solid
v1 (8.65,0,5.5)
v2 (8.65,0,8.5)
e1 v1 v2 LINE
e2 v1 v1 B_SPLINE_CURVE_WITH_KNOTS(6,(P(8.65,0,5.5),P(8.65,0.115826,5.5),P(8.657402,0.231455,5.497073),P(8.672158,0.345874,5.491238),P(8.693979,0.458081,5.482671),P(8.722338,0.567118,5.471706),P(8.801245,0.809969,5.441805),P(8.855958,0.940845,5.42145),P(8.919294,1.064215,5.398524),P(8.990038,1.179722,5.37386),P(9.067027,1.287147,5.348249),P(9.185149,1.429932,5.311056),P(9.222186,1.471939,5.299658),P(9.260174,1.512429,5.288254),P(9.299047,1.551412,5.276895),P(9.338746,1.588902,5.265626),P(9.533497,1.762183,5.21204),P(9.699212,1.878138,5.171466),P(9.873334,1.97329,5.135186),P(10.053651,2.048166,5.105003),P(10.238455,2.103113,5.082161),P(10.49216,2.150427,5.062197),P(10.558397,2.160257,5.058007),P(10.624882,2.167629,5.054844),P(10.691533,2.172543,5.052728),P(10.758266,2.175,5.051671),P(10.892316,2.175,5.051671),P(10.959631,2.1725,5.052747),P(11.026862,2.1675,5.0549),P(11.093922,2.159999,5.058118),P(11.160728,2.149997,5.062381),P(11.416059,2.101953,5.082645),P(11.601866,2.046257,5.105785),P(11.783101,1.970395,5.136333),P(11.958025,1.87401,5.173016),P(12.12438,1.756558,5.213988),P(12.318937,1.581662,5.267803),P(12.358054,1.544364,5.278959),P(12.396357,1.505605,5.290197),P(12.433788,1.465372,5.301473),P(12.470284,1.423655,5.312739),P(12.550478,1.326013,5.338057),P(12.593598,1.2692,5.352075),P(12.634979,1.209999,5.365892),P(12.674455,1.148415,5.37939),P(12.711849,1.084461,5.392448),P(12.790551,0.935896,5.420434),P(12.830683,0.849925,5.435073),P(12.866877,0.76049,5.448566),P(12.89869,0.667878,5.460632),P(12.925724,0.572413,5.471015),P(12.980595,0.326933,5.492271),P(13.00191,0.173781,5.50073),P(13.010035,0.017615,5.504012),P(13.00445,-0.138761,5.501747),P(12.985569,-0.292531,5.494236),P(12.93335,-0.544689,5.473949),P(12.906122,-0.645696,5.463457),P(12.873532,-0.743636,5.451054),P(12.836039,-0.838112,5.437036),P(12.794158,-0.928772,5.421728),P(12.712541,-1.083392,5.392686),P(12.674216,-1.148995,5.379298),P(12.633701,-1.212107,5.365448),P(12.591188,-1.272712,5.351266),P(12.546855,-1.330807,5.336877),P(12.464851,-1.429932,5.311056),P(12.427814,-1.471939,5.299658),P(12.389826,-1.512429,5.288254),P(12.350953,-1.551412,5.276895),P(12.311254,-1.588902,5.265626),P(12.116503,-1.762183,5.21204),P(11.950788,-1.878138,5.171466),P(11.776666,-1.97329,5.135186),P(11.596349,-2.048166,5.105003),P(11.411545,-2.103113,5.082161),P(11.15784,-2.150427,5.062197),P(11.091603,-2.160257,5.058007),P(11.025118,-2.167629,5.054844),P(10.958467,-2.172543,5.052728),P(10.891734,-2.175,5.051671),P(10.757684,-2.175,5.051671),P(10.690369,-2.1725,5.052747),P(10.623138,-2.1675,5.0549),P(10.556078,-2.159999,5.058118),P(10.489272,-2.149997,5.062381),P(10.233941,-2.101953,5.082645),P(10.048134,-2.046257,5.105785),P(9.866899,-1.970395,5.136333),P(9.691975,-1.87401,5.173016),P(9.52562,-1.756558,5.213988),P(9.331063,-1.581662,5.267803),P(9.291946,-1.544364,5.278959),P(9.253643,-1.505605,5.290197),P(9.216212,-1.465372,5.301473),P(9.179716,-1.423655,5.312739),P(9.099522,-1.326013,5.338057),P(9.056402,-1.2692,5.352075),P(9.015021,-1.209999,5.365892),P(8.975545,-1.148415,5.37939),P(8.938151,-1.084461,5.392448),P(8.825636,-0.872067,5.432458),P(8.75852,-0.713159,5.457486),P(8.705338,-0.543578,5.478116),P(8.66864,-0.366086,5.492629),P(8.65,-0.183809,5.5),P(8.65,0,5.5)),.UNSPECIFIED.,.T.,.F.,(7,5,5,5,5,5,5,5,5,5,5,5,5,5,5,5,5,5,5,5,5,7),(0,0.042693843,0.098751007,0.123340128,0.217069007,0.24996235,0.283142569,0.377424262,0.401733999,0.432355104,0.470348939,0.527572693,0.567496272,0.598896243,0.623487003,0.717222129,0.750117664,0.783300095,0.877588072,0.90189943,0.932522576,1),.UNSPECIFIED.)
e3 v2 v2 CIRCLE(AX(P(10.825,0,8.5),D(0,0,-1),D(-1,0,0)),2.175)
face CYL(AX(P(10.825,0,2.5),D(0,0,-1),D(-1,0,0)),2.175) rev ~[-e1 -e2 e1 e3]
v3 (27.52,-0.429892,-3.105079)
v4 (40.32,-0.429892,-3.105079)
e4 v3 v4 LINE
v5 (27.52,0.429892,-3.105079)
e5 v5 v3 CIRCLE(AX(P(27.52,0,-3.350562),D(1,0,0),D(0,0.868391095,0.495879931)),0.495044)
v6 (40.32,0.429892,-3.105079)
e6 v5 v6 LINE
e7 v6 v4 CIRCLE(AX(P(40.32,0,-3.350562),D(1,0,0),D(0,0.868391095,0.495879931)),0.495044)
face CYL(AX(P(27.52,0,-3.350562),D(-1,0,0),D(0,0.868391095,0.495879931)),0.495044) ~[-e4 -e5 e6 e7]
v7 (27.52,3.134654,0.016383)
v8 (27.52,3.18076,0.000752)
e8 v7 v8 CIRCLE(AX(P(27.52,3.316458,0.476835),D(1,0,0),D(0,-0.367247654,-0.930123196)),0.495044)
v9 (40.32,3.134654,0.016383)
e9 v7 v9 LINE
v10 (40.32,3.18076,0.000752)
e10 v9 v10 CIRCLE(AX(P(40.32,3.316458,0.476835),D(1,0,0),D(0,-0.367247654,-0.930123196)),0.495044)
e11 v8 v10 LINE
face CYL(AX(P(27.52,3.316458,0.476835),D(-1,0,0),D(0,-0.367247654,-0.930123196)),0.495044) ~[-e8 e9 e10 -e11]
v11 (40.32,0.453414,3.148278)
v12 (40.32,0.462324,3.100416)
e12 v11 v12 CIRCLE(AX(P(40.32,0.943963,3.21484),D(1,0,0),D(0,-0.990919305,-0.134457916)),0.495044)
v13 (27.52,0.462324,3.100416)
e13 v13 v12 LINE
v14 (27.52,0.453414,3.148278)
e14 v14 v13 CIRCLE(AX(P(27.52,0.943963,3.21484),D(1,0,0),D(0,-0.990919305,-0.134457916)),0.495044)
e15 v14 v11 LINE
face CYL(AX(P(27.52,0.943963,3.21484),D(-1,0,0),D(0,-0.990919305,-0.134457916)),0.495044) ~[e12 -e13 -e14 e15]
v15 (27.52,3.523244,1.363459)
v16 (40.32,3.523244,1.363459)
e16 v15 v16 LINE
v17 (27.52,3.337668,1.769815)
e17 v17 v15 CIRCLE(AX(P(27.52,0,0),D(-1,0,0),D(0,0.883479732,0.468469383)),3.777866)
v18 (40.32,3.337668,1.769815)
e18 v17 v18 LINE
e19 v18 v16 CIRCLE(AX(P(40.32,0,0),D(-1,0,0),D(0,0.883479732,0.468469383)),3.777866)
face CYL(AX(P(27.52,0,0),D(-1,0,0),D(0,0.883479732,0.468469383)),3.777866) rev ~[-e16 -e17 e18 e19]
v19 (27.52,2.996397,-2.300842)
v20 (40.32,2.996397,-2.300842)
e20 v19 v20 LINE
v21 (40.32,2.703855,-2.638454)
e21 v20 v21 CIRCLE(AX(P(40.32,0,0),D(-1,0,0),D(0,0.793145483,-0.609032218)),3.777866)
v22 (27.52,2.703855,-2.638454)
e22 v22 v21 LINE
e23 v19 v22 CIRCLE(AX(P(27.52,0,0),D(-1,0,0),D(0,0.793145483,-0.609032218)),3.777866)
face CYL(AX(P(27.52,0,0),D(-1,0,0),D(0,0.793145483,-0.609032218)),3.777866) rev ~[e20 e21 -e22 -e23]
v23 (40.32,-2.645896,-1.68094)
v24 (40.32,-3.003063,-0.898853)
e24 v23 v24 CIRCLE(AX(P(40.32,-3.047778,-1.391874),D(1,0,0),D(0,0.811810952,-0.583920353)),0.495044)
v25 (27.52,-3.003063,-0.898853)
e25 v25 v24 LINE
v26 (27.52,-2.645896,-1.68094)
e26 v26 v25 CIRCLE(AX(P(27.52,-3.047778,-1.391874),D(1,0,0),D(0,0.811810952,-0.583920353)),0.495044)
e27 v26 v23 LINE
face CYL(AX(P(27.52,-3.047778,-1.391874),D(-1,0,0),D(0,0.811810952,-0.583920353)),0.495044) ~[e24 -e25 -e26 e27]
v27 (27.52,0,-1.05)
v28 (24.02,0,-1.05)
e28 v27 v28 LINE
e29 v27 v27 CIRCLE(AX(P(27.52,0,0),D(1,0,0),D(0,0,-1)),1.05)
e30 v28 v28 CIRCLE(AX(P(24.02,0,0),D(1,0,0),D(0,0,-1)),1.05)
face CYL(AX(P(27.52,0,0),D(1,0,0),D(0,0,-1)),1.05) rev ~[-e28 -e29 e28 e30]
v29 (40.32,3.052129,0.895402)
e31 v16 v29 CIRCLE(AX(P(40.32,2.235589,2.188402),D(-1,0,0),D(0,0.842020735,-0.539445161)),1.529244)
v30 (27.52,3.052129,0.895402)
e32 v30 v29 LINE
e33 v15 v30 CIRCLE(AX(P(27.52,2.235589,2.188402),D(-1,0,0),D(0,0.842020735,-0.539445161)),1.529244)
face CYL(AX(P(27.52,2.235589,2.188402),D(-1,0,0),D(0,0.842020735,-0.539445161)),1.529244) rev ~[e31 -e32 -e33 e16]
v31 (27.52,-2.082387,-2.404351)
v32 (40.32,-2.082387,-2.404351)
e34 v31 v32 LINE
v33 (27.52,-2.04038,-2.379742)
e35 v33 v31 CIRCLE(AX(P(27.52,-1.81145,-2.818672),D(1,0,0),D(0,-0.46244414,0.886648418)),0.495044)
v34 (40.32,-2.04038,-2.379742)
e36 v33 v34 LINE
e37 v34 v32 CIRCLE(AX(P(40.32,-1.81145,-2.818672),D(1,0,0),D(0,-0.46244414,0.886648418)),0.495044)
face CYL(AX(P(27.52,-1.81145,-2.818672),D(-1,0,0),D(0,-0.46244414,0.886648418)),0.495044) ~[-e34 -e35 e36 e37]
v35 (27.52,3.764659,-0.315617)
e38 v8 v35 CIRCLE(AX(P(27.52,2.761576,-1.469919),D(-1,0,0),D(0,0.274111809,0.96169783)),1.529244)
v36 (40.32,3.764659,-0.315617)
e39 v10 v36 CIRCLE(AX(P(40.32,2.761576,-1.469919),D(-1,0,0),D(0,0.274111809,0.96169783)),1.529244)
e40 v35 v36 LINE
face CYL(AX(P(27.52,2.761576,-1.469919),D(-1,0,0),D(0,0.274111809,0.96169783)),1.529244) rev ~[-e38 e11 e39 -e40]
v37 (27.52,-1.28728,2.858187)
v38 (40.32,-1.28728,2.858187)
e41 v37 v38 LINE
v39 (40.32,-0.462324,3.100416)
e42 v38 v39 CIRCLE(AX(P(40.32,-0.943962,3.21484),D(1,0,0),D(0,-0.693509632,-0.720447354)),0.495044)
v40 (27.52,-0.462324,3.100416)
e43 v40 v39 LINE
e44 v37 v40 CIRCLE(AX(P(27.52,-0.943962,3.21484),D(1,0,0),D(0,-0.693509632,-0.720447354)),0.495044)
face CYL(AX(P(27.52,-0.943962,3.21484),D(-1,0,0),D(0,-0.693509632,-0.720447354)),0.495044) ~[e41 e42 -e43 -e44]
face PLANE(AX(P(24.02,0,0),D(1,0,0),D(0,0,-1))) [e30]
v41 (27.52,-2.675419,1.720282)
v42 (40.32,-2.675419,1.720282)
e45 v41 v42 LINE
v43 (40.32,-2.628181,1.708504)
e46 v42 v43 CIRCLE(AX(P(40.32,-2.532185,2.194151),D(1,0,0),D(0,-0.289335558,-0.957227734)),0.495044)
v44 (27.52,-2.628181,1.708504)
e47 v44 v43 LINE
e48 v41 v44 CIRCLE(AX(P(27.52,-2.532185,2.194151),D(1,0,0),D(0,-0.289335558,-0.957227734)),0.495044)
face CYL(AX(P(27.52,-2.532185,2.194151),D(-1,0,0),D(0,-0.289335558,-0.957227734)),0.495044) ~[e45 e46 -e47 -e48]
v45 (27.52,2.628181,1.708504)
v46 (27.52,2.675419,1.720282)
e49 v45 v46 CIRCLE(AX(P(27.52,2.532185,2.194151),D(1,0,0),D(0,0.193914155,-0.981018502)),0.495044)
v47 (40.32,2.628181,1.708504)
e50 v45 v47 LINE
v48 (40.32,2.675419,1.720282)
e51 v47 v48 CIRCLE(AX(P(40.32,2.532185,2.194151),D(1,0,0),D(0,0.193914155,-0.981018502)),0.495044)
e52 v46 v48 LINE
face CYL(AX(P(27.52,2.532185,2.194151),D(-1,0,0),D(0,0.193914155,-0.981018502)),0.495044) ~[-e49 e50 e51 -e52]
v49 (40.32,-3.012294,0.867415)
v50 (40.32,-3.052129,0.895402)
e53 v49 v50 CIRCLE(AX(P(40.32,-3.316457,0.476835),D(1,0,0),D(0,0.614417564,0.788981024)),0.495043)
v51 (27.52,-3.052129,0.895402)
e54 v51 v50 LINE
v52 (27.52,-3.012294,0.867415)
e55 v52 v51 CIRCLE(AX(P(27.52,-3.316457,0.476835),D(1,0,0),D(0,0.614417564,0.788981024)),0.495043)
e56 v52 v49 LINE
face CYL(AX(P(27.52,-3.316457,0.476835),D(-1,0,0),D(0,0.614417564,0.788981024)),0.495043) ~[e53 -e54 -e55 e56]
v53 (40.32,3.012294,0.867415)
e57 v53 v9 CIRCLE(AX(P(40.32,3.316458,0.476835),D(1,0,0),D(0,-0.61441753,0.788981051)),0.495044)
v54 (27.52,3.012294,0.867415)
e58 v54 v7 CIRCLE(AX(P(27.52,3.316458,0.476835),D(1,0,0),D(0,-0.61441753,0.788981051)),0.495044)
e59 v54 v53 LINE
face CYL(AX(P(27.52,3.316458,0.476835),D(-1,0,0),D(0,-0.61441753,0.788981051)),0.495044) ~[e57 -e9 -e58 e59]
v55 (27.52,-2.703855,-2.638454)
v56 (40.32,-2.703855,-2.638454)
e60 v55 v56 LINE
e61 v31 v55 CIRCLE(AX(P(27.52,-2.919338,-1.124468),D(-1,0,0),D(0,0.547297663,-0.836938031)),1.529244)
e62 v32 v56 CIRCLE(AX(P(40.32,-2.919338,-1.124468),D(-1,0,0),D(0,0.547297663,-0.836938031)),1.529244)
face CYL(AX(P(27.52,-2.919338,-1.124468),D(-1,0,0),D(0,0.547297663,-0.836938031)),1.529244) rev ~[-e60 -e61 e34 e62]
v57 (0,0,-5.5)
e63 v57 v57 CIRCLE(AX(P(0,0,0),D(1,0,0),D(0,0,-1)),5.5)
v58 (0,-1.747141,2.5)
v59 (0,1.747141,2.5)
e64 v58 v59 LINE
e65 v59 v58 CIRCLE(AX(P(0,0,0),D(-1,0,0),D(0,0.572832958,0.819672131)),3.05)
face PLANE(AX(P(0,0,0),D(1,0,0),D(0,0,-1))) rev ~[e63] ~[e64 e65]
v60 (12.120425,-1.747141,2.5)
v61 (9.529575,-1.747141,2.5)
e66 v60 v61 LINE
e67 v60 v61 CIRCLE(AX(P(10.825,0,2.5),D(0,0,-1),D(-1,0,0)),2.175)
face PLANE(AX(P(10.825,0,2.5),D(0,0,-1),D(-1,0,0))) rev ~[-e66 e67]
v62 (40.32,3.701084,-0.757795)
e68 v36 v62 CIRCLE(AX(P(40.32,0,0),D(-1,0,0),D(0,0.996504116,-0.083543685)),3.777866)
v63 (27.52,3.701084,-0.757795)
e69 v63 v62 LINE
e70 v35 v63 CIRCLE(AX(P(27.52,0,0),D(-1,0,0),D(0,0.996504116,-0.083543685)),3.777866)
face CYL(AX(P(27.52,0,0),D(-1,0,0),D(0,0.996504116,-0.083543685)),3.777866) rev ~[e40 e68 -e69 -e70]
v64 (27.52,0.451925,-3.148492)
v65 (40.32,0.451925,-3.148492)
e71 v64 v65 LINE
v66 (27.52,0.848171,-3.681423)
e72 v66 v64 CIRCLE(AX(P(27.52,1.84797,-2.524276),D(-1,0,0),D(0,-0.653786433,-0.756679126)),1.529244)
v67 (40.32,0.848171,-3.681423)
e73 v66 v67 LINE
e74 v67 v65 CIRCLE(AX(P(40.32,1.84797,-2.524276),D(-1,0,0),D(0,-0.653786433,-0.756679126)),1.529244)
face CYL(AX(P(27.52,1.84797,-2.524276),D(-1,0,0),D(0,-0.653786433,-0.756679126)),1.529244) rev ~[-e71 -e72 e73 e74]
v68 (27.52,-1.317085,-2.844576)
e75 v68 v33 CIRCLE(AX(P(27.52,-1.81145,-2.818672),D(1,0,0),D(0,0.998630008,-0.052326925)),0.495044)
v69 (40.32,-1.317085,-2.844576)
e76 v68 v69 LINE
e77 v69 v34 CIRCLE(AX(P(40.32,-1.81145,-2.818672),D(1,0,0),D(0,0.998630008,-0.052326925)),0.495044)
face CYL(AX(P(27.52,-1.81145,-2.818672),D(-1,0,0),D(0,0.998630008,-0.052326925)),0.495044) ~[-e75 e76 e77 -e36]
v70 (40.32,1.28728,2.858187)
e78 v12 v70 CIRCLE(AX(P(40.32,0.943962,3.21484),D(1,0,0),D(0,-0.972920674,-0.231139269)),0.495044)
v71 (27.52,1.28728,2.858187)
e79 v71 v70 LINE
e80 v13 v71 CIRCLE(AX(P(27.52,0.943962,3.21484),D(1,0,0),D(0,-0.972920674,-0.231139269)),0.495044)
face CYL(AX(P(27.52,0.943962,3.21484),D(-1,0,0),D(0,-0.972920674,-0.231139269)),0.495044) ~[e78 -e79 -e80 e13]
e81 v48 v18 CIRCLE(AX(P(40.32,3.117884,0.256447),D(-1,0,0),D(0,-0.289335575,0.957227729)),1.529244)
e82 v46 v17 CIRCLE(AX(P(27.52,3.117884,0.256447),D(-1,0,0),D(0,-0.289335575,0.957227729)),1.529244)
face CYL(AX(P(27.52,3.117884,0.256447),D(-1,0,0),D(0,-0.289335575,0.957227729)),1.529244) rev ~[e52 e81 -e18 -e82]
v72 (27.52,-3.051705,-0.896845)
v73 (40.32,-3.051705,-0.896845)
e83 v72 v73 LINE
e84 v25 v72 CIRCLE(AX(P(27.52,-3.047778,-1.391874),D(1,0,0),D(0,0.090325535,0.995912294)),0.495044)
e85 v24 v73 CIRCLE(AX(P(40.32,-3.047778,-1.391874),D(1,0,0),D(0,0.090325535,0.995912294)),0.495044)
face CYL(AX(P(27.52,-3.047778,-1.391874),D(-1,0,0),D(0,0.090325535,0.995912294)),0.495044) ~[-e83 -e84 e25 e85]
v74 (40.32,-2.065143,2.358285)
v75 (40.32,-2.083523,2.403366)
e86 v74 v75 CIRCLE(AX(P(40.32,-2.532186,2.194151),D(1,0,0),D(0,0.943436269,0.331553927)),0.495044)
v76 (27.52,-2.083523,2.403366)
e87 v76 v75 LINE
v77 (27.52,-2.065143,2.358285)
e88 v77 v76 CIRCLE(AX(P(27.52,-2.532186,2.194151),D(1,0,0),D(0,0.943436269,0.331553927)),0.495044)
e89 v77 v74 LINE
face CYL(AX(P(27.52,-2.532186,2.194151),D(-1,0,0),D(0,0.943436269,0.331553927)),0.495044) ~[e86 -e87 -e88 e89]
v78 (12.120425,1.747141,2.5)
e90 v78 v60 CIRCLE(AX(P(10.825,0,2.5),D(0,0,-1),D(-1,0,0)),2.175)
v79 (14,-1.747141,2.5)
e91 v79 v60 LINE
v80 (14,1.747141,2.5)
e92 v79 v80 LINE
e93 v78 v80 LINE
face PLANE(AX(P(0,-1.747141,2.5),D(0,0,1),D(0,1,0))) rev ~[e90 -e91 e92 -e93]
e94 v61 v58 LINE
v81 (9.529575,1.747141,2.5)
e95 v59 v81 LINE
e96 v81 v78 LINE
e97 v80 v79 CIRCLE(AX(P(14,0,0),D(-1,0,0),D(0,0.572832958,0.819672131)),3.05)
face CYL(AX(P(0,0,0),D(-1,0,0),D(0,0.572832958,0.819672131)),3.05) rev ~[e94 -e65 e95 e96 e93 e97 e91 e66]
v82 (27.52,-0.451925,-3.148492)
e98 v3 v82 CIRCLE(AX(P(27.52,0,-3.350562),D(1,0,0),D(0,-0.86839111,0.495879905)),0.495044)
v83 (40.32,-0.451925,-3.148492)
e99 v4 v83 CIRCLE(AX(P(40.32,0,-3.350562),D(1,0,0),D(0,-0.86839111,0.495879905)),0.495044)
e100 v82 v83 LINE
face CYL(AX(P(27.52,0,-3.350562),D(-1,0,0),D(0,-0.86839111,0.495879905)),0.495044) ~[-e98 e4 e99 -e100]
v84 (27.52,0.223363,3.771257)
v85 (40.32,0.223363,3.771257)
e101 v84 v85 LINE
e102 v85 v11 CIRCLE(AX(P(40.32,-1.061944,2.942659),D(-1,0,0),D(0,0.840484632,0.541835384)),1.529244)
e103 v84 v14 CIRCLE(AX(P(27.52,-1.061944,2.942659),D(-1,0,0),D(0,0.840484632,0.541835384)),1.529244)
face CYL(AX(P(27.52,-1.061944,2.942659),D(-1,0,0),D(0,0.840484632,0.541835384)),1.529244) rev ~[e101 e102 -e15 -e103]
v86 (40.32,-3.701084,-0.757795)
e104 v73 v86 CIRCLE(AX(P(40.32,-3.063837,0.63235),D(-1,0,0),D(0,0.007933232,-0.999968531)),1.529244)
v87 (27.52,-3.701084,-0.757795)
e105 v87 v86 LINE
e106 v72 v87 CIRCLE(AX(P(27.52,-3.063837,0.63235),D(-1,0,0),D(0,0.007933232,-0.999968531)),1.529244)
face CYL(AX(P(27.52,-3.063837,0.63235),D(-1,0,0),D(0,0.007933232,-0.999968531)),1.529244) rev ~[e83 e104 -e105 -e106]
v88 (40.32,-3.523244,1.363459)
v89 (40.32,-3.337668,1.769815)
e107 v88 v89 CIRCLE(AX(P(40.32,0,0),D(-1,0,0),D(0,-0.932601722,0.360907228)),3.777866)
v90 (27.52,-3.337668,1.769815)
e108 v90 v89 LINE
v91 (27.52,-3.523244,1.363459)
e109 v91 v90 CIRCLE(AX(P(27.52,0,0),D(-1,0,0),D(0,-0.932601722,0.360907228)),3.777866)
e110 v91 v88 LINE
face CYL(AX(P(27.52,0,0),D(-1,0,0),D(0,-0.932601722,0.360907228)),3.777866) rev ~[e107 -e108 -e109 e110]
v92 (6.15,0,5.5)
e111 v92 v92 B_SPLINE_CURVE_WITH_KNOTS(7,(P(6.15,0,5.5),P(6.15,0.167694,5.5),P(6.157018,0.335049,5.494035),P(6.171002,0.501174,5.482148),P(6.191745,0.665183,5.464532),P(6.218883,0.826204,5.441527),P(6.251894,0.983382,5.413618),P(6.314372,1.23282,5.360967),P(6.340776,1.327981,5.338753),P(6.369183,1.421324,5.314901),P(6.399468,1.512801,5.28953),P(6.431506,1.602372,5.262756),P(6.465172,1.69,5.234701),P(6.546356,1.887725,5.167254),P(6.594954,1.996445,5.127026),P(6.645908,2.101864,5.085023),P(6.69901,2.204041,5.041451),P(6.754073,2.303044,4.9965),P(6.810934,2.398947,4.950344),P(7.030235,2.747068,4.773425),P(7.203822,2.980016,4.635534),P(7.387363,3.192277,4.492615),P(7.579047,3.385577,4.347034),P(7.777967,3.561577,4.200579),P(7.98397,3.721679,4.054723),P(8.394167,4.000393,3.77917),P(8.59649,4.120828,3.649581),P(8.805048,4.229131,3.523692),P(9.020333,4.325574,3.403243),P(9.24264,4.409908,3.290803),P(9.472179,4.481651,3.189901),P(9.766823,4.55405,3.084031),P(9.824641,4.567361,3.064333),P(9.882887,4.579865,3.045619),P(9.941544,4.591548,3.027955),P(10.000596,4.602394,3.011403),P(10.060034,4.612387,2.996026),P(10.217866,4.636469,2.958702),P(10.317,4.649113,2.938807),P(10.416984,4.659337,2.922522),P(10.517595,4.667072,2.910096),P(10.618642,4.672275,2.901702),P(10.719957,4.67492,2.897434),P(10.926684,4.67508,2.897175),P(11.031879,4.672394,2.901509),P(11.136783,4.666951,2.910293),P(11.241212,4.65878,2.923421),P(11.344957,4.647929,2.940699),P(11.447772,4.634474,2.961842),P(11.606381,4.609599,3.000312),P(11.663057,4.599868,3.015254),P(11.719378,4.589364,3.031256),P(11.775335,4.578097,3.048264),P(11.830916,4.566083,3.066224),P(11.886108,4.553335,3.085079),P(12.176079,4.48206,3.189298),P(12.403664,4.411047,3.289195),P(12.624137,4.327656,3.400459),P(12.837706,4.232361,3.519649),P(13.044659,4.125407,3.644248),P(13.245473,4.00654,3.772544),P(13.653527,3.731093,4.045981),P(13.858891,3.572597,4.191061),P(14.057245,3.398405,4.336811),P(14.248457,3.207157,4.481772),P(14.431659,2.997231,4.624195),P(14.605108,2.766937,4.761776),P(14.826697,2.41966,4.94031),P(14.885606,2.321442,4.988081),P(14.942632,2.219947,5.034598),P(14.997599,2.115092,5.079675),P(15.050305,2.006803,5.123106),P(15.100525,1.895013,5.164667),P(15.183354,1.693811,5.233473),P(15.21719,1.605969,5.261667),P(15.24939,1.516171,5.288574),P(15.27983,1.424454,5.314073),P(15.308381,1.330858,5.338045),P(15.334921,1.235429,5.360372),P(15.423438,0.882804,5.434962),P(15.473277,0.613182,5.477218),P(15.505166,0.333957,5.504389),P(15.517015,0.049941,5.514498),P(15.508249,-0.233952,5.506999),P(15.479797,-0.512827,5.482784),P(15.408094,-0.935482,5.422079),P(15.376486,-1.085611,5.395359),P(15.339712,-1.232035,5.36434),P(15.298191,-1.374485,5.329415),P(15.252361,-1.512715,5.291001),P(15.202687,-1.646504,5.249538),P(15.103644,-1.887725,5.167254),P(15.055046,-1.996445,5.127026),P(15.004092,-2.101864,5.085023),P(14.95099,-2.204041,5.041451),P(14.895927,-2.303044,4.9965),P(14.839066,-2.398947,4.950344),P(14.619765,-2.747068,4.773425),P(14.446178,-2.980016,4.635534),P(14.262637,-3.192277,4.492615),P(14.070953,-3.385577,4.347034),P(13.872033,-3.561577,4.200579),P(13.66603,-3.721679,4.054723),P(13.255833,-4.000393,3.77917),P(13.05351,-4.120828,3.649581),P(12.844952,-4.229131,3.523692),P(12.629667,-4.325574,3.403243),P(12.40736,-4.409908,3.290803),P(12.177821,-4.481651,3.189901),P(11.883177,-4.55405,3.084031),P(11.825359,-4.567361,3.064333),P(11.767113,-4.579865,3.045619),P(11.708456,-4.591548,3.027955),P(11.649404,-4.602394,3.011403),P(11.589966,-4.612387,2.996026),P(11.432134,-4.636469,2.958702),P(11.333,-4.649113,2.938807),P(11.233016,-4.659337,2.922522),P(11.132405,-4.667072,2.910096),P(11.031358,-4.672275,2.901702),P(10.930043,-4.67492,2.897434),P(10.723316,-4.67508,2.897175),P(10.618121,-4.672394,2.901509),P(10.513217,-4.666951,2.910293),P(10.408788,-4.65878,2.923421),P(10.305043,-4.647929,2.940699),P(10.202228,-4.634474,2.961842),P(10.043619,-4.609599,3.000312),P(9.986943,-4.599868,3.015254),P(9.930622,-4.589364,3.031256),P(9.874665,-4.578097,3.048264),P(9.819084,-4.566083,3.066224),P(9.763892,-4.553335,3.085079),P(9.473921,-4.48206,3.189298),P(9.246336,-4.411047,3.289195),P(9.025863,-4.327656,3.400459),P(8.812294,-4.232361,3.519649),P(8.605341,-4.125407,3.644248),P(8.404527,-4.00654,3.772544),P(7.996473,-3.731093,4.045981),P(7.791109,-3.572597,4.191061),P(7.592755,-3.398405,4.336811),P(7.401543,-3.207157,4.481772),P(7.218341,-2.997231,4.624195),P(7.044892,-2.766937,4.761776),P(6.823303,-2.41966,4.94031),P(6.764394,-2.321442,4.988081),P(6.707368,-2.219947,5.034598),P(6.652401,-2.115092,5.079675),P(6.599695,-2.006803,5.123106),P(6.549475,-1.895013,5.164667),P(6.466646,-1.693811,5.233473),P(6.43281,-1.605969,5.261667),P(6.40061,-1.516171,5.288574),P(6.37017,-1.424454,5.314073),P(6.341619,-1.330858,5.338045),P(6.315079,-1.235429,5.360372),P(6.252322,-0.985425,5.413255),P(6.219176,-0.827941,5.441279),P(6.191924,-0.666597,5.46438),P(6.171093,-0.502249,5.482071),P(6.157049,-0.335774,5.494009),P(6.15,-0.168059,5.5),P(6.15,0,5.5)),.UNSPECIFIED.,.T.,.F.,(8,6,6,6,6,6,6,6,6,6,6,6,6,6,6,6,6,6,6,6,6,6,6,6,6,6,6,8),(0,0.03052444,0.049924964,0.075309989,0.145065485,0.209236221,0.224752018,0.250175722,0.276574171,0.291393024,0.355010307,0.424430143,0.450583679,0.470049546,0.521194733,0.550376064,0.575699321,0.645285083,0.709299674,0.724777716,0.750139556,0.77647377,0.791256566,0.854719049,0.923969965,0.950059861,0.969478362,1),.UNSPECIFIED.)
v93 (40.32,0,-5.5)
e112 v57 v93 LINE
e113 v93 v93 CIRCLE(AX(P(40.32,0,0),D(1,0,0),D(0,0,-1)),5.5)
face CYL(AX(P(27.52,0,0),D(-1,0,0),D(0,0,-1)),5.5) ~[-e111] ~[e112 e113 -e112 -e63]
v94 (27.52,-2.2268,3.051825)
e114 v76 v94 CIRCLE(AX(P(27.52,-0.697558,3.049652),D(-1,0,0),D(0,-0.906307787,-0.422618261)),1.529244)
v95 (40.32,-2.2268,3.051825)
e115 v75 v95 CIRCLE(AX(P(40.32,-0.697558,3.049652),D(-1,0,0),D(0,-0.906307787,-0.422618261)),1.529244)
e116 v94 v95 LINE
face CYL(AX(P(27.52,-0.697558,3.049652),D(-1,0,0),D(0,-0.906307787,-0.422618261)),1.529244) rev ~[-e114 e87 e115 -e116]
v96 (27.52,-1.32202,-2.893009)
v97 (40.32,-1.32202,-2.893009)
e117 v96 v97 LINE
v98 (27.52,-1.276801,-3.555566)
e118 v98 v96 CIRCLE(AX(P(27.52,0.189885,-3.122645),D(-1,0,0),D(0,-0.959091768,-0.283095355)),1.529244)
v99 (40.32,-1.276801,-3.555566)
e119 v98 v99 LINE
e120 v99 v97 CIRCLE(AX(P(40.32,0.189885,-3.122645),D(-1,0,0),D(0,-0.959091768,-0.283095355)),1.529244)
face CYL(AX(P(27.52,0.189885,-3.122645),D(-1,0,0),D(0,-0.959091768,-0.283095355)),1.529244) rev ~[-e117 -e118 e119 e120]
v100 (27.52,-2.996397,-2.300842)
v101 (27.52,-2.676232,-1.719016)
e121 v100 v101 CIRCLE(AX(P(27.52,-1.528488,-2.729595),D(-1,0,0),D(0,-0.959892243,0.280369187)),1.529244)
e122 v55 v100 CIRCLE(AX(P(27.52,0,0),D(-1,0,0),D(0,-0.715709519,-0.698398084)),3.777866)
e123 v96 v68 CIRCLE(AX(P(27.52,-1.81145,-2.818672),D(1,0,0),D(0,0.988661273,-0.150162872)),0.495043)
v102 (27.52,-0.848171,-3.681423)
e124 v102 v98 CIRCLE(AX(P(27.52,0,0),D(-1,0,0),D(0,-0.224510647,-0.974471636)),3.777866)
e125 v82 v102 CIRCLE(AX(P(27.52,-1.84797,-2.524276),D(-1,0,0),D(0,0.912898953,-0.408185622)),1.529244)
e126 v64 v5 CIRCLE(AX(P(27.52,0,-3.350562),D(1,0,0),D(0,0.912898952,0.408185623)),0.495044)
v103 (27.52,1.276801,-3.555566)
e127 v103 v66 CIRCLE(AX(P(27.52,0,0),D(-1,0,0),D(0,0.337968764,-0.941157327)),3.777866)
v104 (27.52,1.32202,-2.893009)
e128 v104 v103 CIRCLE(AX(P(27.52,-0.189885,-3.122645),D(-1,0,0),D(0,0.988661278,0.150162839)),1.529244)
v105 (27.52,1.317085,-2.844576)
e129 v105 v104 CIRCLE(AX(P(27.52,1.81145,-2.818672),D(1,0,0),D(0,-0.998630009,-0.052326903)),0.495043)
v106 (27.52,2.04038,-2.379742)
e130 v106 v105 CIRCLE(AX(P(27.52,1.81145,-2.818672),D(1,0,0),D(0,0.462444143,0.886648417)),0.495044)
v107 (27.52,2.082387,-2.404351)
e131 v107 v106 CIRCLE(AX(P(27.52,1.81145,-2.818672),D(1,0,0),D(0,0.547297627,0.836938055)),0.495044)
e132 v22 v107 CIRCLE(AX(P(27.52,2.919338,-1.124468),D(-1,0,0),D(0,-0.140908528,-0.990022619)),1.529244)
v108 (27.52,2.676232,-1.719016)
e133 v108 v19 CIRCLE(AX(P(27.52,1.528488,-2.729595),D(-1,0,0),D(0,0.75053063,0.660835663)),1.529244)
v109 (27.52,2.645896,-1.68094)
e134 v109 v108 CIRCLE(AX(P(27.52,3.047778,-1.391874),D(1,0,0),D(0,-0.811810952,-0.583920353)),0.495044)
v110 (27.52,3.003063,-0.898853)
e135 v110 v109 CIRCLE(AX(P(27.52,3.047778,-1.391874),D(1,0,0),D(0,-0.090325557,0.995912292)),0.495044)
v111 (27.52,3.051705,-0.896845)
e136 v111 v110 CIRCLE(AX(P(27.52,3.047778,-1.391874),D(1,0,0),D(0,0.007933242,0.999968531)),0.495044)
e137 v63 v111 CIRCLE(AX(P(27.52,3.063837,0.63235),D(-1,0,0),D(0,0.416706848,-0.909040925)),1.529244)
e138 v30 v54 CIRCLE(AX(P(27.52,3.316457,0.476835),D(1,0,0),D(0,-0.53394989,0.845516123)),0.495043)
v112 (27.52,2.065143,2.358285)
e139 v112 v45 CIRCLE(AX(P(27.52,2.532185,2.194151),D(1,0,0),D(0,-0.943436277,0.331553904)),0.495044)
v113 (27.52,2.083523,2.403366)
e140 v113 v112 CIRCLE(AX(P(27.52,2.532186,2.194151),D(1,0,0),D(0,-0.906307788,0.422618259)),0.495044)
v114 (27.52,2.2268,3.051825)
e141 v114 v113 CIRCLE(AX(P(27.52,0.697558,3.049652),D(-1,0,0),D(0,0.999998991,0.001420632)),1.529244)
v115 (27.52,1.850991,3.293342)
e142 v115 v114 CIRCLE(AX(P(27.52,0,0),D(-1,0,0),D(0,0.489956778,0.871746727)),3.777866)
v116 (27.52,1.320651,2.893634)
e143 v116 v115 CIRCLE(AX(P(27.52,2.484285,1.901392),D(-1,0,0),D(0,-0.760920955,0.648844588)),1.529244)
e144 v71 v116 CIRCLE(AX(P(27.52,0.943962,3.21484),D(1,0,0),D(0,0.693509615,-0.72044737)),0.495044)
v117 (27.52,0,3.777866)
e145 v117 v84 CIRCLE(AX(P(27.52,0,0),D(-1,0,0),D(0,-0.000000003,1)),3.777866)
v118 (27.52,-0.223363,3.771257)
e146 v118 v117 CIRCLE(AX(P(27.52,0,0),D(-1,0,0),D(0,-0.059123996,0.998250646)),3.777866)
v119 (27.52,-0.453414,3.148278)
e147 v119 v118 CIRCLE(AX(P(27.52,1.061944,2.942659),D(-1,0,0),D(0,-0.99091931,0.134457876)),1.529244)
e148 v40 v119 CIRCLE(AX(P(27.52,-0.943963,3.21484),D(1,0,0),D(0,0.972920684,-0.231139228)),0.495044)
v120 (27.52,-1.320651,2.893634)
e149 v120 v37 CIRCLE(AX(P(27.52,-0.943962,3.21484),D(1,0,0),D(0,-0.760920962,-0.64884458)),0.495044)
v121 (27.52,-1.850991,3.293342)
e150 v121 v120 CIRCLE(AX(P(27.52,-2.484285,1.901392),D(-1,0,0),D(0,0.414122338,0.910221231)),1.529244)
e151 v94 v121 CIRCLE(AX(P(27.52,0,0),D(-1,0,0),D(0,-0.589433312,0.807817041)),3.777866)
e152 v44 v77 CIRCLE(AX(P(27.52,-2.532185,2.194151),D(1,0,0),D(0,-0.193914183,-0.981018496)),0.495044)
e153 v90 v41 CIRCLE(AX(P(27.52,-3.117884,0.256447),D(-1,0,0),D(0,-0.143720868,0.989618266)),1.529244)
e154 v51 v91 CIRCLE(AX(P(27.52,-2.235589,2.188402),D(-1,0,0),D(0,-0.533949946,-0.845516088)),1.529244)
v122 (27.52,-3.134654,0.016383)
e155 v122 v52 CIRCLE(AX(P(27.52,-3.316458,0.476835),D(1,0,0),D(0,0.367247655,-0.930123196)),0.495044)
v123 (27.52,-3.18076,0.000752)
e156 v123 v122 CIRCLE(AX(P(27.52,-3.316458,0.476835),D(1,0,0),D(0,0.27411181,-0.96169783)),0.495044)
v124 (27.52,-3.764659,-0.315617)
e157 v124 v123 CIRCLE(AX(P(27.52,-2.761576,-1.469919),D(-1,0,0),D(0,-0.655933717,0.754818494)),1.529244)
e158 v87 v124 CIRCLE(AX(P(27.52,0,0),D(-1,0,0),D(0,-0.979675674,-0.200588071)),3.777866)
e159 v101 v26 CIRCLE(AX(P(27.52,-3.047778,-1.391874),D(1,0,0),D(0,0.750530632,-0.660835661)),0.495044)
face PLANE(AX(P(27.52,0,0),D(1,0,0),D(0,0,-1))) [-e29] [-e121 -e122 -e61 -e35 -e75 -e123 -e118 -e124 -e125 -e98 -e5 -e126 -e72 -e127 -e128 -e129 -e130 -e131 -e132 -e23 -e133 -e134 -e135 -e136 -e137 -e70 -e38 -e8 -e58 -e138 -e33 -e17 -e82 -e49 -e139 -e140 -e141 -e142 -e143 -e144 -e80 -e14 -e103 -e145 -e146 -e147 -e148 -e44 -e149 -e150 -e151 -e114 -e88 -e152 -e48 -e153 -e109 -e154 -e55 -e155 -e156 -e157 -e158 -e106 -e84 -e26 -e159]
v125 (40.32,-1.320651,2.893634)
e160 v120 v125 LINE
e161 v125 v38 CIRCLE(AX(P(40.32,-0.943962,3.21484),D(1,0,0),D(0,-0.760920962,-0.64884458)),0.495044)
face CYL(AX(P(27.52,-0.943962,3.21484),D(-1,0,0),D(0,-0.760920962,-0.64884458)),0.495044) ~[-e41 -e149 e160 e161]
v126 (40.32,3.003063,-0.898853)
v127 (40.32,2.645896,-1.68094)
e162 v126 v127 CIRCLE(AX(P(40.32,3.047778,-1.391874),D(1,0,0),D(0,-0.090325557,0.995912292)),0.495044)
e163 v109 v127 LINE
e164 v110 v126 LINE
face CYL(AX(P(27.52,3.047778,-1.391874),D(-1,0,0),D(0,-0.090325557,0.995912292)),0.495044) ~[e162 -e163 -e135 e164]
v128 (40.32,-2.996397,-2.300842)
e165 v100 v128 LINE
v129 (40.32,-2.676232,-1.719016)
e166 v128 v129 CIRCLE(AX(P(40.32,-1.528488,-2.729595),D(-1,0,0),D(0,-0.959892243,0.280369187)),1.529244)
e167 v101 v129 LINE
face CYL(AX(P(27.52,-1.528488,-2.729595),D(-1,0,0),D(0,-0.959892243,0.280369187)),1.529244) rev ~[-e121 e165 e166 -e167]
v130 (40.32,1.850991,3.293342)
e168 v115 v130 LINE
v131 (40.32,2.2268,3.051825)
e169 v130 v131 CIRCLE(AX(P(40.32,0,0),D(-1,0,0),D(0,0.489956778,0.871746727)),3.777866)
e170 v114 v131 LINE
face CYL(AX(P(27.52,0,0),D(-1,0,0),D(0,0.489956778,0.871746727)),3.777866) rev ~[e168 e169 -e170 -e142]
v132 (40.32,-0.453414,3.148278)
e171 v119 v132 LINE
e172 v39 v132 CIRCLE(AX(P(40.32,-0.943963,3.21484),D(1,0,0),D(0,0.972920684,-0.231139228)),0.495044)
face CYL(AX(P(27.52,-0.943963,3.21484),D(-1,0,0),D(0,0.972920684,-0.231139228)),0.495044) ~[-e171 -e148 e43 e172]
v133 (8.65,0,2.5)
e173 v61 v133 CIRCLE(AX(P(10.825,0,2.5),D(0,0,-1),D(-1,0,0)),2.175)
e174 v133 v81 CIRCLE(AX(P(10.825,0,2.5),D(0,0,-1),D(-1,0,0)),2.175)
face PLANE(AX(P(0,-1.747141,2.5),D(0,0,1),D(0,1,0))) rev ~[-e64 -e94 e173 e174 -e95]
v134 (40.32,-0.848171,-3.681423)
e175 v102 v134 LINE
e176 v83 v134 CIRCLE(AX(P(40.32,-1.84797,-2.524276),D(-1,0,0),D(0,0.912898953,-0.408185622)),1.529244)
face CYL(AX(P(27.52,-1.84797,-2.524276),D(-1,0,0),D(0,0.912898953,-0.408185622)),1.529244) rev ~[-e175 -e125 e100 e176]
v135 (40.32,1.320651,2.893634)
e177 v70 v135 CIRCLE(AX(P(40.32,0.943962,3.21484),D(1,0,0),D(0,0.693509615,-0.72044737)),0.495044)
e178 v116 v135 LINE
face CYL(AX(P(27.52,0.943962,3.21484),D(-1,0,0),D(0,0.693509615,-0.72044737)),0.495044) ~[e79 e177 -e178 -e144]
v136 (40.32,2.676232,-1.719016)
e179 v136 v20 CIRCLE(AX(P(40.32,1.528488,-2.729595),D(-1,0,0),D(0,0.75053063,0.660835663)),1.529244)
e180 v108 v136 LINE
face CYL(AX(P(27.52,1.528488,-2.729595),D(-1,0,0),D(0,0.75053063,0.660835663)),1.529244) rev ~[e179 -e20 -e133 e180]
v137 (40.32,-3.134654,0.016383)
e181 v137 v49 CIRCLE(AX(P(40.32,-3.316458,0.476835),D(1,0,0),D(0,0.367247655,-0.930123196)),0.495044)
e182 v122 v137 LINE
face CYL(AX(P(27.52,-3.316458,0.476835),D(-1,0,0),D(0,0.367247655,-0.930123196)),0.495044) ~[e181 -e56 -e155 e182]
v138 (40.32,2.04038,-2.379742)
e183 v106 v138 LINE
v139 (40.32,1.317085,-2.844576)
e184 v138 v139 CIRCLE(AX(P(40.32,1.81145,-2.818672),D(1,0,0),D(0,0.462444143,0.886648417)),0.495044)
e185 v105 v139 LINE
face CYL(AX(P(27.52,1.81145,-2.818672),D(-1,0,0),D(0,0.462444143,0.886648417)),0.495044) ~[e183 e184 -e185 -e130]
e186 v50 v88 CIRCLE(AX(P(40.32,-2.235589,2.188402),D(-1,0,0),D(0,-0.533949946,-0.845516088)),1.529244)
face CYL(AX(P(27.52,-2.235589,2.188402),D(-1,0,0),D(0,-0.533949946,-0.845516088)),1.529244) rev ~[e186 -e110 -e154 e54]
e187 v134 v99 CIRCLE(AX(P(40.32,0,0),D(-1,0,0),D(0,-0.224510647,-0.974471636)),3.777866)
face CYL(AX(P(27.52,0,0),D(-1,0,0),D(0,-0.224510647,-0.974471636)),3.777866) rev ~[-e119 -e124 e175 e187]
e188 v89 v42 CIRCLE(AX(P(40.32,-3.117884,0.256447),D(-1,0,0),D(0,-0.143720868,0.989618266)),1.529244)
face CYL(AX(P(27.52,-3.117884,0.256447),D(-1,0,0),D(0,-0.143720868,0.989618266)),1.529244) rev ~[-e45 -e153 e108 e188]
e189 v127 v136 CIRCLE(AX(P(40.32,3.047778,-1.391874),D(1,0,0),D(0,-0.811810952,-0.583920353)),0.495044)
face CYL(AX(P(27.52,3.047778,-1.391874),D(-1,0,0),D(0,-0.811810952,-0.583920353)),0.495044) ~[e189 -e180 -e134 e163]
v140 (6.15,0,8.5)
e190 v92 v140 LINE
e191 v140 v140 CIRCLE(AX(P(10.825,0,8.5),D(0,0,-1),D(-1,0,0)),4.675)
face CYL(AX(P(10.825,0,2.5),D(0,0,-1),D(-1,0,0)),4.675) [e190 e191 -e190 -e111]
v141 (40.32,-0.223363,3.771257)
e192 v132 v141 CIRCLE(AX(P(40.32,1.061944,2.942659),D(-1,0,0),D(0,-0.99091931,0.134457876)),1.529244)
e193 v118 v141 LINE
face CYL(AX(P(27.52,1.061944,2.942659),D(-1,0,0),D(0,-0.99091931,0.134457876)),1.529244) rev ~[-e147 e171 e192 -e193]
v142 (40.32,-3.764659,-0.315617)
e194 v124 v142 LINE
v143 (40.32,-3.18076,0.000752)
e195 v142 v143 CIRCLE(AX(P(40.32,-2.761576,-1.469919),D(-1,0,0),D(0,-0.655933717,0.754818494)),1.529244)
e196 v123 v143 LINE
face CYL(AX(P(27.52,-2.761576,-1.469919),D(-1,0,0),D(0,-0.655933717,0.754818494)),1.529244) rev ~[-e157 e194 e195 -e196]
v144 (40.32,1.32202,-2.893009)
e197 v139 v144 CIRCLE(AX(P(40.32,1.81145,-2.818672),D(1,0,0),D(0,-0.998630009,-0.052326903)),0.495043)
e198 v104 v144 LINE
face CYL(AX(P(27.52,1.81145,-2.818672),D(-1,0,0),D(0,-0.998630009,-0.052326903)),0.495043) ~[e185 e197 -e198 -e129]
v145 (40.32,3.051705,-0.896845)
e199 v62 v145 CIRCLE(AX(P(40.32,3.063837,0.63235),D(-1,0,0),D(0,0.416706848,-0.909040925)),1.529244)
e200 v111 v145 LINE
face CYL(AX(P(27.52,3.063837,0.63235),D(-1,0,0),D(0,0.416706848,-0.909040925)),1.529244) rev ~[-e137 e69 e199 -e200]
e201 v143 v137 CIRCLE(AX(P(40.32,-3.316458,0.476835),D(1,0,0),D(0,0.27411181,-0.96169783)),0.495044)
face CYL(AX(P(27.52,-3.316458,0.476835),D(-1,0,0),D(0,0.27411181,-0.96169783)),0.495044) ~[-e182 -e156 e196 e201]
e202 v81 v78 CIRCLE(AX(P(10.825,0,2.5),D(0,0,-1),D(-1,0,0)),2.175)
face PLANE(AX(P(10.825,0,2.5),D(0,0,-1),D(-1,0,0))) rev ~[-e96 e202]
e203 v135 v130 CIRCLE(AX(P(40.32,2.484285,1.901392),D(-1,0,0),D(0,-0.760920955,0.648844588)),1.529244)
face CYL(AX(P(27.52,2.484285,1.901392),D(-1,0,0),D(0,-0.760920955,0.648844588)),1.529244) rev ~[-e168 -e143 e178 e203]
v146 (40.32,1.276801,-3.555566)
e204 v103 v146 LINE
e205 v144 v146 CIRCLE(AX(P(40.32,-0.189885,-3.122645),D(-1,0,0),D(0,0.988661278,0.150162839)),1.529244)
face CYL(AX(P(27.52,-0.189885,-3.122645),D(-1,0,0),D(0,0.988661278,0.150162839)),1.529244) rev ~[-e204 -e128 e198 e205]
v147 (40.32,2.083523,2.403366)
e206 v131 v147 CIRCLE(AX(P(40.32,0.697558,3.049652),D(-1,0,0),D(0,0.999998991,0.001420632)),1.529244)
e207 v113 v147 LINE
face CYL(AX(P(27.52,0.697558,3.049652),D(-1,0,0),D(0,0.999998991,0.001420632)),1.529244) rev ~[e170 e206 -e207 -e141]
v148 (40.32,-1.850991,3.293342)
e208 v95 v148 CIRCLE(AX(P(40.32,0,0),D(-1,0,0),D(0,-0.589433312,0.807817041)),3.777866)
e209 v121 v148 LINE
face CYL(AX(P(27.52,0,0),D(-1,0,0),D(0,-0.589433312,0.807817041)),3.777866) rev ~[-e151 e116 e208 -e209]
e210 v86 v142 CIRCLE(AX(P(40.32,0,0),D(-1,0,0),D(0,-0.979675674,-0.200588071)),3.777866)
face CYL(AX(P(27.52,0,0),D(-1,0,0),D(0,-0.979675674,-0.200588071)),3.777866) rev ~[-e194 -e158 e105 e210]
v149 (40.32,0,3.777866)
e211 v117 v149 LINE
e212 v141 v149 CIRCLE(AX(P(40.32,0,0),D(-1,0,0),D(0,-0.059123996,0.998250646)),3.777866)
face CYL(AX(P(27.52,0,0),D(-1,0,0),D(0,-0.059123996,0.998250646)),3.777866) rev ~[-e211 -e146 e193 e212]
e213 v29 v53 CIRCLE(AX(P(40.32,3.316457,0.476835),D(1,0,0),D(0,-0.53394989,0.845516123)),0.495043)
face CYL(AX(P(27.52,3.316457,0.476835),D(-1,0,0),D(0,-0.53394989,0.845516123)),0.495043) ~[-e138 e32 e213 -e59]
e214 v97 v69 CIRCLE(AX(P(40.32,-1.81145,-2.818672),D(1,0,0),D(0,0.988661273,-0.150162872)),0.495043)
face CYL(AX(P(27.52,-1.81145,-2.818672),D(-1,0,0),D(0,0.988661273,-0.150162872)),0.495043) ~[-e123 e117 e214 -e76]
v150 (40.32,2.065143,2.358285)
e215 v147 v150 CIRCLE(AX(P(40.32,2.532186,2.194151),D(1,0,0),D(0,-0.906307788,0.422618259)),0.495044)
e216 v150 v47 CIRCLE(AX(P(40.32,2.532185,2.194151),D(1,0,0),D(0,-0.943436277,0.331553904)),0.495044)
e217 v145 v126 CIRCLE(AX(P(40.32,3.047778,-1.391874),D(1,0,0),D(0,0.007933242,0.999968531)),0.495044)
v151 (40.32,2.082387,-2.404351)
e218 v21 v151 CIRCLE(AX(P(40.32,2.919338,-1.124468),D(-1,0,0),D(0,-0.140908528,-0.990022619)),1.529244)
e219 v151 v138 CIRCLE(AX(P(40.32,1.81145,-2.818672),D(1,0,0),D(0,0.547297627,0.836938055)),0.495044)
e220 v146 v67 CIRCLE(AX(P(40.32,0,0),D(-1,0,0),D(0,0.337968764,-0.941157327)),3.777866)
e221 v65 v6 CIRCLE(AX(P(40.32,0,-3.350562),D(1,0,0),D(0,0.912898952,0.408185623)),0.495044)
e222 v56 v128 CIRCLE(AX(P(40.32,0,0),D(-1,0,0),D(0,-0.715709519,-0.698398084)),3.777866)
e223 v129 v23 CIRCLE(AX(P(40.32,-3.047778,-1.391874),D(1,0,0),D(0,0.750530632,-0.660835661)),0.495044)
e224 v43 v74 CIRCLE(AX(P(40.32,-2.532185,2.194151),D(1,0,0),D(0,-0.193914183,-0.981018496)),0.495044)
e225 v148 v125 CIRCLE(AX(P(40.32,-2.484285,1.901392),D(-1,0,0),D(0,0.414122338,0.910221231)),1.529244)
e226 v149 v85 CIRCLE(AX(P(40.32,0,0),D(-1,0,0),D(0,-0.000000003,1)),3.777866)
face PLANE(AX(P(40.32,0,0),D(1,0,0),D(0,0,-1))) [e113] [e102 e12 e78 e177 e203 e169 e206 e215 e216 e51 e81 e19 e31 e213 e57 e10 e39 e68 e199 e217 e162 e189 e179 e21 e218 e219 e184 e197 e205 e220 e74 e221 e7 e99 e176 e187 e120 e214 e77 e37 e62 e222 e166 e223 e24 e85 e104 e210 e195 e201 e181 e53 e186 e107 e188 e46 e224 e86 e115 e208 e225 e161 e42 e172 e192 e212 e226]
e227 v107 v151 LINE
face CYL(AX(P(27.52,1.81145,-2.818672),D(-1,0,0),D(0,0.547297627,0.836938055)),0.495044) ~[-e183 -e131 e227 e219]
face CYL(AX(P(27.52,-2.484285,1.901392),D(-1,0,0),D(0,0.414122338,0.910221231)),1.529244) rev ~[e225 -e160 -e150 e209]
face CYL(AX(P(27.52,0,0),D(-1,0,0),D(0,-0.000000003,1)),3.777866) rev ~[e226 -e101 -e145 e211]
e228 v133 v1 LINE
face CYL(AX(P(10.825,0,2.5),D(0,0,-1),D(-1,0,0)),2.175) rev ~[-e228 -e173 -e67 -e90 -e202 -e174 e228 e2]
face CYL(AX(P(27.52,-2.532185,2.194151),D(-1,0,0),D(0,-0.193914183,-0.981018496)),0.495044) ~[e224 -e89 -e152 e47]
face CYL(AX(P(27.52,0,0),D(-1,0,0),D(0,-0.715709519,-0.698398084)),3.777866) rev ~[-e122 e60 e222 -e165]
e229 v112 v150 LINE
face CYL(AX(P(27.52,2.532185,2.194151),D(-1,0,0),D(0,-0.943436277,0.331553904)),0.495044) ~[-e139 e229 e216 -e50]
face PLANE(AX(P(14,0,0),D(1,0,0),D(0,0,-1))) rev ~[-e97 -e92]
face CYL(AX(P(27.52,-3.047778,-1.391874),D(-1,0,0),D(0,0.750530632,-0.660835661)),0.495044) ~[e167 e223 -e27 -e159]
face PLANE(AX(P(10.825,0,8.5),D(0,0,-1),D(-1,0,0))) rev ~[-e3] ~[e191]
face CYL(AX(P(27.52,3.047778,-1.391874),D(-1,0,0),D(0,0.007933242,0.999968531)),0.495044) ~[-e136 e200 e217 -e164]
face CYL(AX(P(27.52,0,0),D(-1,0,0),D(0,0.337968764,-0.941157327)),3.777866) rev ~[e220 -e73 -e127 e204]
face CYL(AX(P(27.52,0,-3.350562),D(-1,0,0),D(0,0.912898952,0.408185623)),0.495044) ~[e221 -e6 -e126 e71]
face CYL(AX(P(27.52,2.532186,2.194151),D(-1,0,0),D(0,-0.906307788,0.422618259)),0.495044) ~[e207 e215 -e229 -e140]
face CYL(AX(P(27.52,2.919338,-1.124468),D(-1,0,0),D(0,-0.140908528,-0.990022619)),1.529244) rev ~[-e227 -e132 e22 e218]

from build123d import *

# Parameters (mm, degrees)
SKETCH1_R           = 5.5
BOSS_EXTRUDE1_DEPTH = 14
SKETCH2_R           = 5.5
BOSS_EXTRUDE2_DEPTH = 13.52
SKETCH3_R           = 5.5
BOSS_EXTRUDE3_DEPTH = 12.8
SKETCH4_R           = 1.05
CUT_EXTRUDE1_DEPTH  = 3.5
SKETCH5_R           = 4.675
SKETCH5_R_2         = 2.175
BOSS_EXTRUDE4_DEPTH = 6
SKETCH5_2_R         = 2.175
CUT_EXTRUDE2_DEPTH  = 42.472308963


with BuildPart() as part:
    # Sketch1 → Boss-Extrude1 (new body)
    with BuildSketch(Plane.YZ):
        Circle(SKETCH1_R)
        with BuildLine():
            Line((-1.747140521, 2.5), (1.747140521, 2.5))
            ThreePointArc((1.747140521, 2.5), (0, -3.05), (-1.747140521, 2.5))
        make_face(mode=Mode.SUBTRACT)
    extrude(amount=BOSS_EXTRUDE1_DEPTH)

    # Sketch2 → Boss-Extrude2 (add)
    with BuildSketch(Plane.YZ.offset(14)):
        Circle(SKETCH2_R)
    extrude(amount=BOSS_EXTRUDE2_DEPTH)

    # Sketch3 → Boss-Extrude3 (add)
    with BuildSketch(Plane.YZ.offset(27.52)):
        Circle(SKETCH3_R)
        with BuildLine():
            ThreePointArc((-1.322019746, -2.893008891), (-1.318956528, -2.868853063), (-1.317084788, -2.844575833))
            ThreePointArc((-1.317084788, -2.844575833), (-1.543809469, -2.402214423), (-2.040380396, -2.37974197))
            ThreePointArc((-2.040380396, -2.37974197), (-2.061686193, -2.391529691), (-2.0823866, -2.404350785))
            ThreePointArc((-2.0823866, -2.404350785), (-2.380259348, -2.555545236), (-2.703854763, -2.638454478))
            ThreePointArc((-2.703854763, -2.638454478), (-2.855120731, -2.473976197), (-2.996397469, -2.300842198))
            ThreePointArc((-2.996397469, -2.300842198), (-2.868279694, -1.992339732), (-2.676232473, -1.719016114))
            ThreePointArc((-2.676232473, -1.719016114), (-2.660595904, -1.700351039), (-2.645896034, -1.680939672))
            ThreePointArc((-2.645896034, -1.680939672), (-2.597470339, -1.186224957), (-3.003062861, -0.898853414))
            ThreePointArc((-3.003062861, -0.898853414), (-3.02735936, -0.897251093), (-3.051705258, -0.896845399))
            ThreePointArc((-3.051705258, -0.896845399), (-3.384033651, -0.862996099), (-3.701083558, -0.757794901))
            ThreePointArc((-3.701083558, -0.757794901), (-3.739412915, -0.537646409), (-3.764659163, -0.315616851))
            ThreePointArc((-3.764659163, -0.315616851), (-3.490090608, -0.12535376), (-3.1807603, 0.000752133))
            ThreePointArc((-3.1807603, 0.000752133), (-3.157514879, 0.008000426), (-3.134653985, 0.016382957))
            ThreePointArc((-3.134653985, 0.016382957), (-2.82645273, 0.406382552), (-3.012294086, 0.86741475))
            ThreePointArc((-3.012294086, 0.86741475), (-3.031867321, 0.881898388), (-3.052129059, 0.895402065))
            ThreePointArc((-3.052129059, 0.895402065), (-3.31340118, 1.103548202), (-3.523244473, 1.363459202))
            ThreePointArc((-3.523244473, 1.363459202), (-3.43646792, 1.569382314), (-3.337668173, 1.769814617))
            ThreePointArc((-3.337668173, 1.769814617), (-3.003822413, 1.781431146), (-2.675419206, 1.720281583))
            ThreePointArc((-2.675419206, 1.720281583), (-2.65194519, 1.713811812), (-2.628181444, 1.708504114))
            ThreePointArc((-2.628181444, 1.708504114), (-2.158056349, 1.869966471), (-2.065143222, 2.35828486))
            ThreePointArc((-2.065143222, 2.35828486), (-2.07377883, 2.381051361), (-2.083523449, 2.4033657))
            ThreePointArc((-2.083523449, 2.4033657), (-2.190787246, 2.719723746), (-2.226800162, 3.051824643))
            ThreePointArc((-2.226800162, 3.051824643), (-2.042468641, 3.178143241), (-1.850991121, 3.293342448))
            ThreePointArc((-1.850991121, 3.293342448), (-1.563861826, 3.12262425), (-1.320651417, 2.893633786))
            ThreePointArc((-1.320651417, 2.893633786), (-1.304401641, 2.875500057), (-1.287279864, 2.858187286))
            ThreePointArc((-1.287279864, 2.858187286), (-0.804492326, 2.739849249), (-0.462323977, 3.100416189))
            ThreePointArc((-0.462323977, 3.100416189), (-0.457280213, 3.124237351), (-0.453413865, 3.148277707))
            ThreePointArc((-0.453413865, 3.148277707), (-0.372613841, 3.472406218), (-0.223362534, 3.771257322))
            ThreePointArc((-0.223362534, 3.771257322), (-0.111730141, 3.776213578), (0, 3.777866145))
            ThreePointArc((0, 3.777866145), (0.111730141, 3.776213578), (0.223362534, 3.771257322))
            ThreePointArc((0.223362534, 3.771257322), (0.372613841, 3.472406218), (0.453413865, 3.148277707))
            ThreePointArc((0.453413865, 3.148277707), (0.457280213, 3.124237351), (0.462323977, 3.100416189))
            ThreePointArc((0.462323977, 3.100416189), (0.804492326, 2.739849249), (1.287279864, 2.858187286))
            ThreePointArc((1.287279864, 2.858187286), (1.304401641, 2.875500057), (1.320651417, 2.893633786))
            ThreePointArc((1.320651417, 2.893633786), (1.563861826, 3.12262425), (1.850991121, 3.293342448))
            ThreePointArc((1.850991121, 3.293342448), (2.042468641, 3.178143241), (2.226800162, 3.051824643))
            ThreePointArc((2.226800162, 3.051824643), (2.190787246, 2.719723746), (2.083523449, 2.4033657))
            ThreePointArc((2.083523449, 2.4033657), (2.07377883, 2.381051361), (2.065143222, 2.35828486))
            ThreePointArc((2.065143222, 2.35828486), (2.158056349, 1.869966471), (2.628181444, 1.708504114))
            ThreePointArc((2.628181444, 1.708504114), (2.65194519, 1.713811812), (2.675419206, 1.720281583))
            ThreePointArc((2.675419206, 1.720281583), (3.003822413, 1.781431146), (3.337668173, 1.769814617))
            ThreePointArc((3.337668173, 1.769814617), (3.43646792, 1.569382314), (3.523244473, 1.363459202))
            ThreePointArc((3.523244473, 1.363459202), (3.31340118, 1.103548202), (3.052129059, 0.895402065))
            ThreePointArc((3.052129059, 0.895402065), (3.031867321, 0.881898388), (3.012294086, 0.86741475))
            ThreePointArc((3.012294086, 0.86741475), (2.82645273, 0.406382552), (3.134653985, 0.016382957))
            ThreePointArc((3.134653985, 0.016382957), (3.157514879, 0.008000426), (3.1807603, 0.000752133))
            ThreePointArc((3.1807603, 0.000752133), (3.490090608, -0.12535376), (3.764659163, -0.315616851))
            ThreePointArc((3.764659163, -0.315616851), (3.739412915, -0.537646409), (3.701083558, -0.757794901))
            ThreePointArc((3.701083558, -0.757794901), (3.384033651, -0.862996099), (3.051705258, -0.896845399))
            ThreePointArc((3.051705258, -0.896845399), (3.02735936, -0.897251093), (3.003062861, -0.898853414))
            ThreePointArc((3.003062861, -0.898853414), (2.597470339, -1.186224957), (2.645896034, -1.680939672))
            ThreePointArc((2.645896034, -1.680939672), (2.660595904, -1.700351039), (2.676232473, -1.719016114))
            ThreePointArc((2.676232473, -1.719016114), (2.868279694, -1.992339732), (2.996397469, -2.300842198))
            ThreePointArc((2.996397469, -2.300842198), (2.855120731, -2.473976197), (2.703854763, -2.638454478))
            ThreePointArc((2.703854763, -2.638454478), (2.380259349, -2.555545235), (2.082386604, -2.404350784))
            ThreePointArc((2.082386604, -2.404350784), (2.061686196, -2.39152969), (2.0403804, -2.379741969))
            ThreePointArc((2.0403804, -2.379741969), (1.54380947, -2.402214422), (1.317084788, -2.844575834))
            ThreePointArc((1.317084788, -2.844575834), (1.318956528, -2.868853064), (1.322019746, -2.893008892))
            ThreePointArc((1.322019746, -2.893008892), (1.335810244, -3.226771918), (1.27680075, -3.555566405))
            ThreePointArc((1.27680075, -3.555566405), (1.064347889, -3.624836022), (0.848171186, -3.6814234))
            ThreePointArc((0.848171186, -3.6814234), (0.62076952, -3.436726817), (0.45192491, -3.148491786))
            ThreePointArc((0.45192491, -3.148491786), (0.441442226, -3.12651451), (0.429891573, -3.105079266))
            ThreePointArc((0.429891573, -3.105079266), (0, -2.855517783), (-0.429891573, -3.105079265))
            ThreePointArc((-0.429891573, -3.105079265), (-0.441442226, -3.12651451), (-0.45192491, -3.148491786))
            ThreePointArc((-0.45192491, -3.148491786), (-0.62076952, -3.436726817), (-0.848171186, -3.6814234))
            ThreePointArc((-0.848171186, -3.6814234), (-1.064347889, -3.624836022), (-1.27680075, -3.555566405))
            ThreePointArc((-1.27680075, -3.555566405), (-1.335810244, -3.226771917), (-1.322019746, -2.893008891))
        make_face(mode=Mode.SUBTRACT)
    extrude(amount=BOSS_EXTRUDE3_DEPTH)

    # Sketch4 → Cut-Extrude1 (cut)
    with BuildSketch(Plane.YZ.offset(27.52)):
        Circle(SKETCH4_R)
    extrude(amount=-CUT_EXTRUDE1_DEPTH, mode=Mode.SUBTRACT)

    # Sketch5 → Boss-Extrude4 (add)
    with BuildSketch(Plane(origin=(0, 0, 2.5), x_dir=(-1, 0, 0), z_dir=(0, 0, -1))):
        with Locations((-10.825, 0)):
            Circle(SKETCH5_R)
        with Locations((-10.825, 0)):
            Circle(SKETCH5_R_2, mode=Mode.SUBTRACT)
    extrude(amount=-BOSS_EXTRUDE4_DEPTH)

    # Sketch5<2> → Cut-Extrude2 (cut, through all)
    with BuildSketch(Plane(origin=(0, 0, 2.5), x_dir=(-1, 0, 0), z_dir=(0, 0, -1))):
        with Locations((-10.825, 0)):
            Circle(SKETCH5_2_R)
    extrude(amount=-CUT_EXTRUDE2_DEPTH, mode=Mode.SUBTRACT)


solid = part.part
